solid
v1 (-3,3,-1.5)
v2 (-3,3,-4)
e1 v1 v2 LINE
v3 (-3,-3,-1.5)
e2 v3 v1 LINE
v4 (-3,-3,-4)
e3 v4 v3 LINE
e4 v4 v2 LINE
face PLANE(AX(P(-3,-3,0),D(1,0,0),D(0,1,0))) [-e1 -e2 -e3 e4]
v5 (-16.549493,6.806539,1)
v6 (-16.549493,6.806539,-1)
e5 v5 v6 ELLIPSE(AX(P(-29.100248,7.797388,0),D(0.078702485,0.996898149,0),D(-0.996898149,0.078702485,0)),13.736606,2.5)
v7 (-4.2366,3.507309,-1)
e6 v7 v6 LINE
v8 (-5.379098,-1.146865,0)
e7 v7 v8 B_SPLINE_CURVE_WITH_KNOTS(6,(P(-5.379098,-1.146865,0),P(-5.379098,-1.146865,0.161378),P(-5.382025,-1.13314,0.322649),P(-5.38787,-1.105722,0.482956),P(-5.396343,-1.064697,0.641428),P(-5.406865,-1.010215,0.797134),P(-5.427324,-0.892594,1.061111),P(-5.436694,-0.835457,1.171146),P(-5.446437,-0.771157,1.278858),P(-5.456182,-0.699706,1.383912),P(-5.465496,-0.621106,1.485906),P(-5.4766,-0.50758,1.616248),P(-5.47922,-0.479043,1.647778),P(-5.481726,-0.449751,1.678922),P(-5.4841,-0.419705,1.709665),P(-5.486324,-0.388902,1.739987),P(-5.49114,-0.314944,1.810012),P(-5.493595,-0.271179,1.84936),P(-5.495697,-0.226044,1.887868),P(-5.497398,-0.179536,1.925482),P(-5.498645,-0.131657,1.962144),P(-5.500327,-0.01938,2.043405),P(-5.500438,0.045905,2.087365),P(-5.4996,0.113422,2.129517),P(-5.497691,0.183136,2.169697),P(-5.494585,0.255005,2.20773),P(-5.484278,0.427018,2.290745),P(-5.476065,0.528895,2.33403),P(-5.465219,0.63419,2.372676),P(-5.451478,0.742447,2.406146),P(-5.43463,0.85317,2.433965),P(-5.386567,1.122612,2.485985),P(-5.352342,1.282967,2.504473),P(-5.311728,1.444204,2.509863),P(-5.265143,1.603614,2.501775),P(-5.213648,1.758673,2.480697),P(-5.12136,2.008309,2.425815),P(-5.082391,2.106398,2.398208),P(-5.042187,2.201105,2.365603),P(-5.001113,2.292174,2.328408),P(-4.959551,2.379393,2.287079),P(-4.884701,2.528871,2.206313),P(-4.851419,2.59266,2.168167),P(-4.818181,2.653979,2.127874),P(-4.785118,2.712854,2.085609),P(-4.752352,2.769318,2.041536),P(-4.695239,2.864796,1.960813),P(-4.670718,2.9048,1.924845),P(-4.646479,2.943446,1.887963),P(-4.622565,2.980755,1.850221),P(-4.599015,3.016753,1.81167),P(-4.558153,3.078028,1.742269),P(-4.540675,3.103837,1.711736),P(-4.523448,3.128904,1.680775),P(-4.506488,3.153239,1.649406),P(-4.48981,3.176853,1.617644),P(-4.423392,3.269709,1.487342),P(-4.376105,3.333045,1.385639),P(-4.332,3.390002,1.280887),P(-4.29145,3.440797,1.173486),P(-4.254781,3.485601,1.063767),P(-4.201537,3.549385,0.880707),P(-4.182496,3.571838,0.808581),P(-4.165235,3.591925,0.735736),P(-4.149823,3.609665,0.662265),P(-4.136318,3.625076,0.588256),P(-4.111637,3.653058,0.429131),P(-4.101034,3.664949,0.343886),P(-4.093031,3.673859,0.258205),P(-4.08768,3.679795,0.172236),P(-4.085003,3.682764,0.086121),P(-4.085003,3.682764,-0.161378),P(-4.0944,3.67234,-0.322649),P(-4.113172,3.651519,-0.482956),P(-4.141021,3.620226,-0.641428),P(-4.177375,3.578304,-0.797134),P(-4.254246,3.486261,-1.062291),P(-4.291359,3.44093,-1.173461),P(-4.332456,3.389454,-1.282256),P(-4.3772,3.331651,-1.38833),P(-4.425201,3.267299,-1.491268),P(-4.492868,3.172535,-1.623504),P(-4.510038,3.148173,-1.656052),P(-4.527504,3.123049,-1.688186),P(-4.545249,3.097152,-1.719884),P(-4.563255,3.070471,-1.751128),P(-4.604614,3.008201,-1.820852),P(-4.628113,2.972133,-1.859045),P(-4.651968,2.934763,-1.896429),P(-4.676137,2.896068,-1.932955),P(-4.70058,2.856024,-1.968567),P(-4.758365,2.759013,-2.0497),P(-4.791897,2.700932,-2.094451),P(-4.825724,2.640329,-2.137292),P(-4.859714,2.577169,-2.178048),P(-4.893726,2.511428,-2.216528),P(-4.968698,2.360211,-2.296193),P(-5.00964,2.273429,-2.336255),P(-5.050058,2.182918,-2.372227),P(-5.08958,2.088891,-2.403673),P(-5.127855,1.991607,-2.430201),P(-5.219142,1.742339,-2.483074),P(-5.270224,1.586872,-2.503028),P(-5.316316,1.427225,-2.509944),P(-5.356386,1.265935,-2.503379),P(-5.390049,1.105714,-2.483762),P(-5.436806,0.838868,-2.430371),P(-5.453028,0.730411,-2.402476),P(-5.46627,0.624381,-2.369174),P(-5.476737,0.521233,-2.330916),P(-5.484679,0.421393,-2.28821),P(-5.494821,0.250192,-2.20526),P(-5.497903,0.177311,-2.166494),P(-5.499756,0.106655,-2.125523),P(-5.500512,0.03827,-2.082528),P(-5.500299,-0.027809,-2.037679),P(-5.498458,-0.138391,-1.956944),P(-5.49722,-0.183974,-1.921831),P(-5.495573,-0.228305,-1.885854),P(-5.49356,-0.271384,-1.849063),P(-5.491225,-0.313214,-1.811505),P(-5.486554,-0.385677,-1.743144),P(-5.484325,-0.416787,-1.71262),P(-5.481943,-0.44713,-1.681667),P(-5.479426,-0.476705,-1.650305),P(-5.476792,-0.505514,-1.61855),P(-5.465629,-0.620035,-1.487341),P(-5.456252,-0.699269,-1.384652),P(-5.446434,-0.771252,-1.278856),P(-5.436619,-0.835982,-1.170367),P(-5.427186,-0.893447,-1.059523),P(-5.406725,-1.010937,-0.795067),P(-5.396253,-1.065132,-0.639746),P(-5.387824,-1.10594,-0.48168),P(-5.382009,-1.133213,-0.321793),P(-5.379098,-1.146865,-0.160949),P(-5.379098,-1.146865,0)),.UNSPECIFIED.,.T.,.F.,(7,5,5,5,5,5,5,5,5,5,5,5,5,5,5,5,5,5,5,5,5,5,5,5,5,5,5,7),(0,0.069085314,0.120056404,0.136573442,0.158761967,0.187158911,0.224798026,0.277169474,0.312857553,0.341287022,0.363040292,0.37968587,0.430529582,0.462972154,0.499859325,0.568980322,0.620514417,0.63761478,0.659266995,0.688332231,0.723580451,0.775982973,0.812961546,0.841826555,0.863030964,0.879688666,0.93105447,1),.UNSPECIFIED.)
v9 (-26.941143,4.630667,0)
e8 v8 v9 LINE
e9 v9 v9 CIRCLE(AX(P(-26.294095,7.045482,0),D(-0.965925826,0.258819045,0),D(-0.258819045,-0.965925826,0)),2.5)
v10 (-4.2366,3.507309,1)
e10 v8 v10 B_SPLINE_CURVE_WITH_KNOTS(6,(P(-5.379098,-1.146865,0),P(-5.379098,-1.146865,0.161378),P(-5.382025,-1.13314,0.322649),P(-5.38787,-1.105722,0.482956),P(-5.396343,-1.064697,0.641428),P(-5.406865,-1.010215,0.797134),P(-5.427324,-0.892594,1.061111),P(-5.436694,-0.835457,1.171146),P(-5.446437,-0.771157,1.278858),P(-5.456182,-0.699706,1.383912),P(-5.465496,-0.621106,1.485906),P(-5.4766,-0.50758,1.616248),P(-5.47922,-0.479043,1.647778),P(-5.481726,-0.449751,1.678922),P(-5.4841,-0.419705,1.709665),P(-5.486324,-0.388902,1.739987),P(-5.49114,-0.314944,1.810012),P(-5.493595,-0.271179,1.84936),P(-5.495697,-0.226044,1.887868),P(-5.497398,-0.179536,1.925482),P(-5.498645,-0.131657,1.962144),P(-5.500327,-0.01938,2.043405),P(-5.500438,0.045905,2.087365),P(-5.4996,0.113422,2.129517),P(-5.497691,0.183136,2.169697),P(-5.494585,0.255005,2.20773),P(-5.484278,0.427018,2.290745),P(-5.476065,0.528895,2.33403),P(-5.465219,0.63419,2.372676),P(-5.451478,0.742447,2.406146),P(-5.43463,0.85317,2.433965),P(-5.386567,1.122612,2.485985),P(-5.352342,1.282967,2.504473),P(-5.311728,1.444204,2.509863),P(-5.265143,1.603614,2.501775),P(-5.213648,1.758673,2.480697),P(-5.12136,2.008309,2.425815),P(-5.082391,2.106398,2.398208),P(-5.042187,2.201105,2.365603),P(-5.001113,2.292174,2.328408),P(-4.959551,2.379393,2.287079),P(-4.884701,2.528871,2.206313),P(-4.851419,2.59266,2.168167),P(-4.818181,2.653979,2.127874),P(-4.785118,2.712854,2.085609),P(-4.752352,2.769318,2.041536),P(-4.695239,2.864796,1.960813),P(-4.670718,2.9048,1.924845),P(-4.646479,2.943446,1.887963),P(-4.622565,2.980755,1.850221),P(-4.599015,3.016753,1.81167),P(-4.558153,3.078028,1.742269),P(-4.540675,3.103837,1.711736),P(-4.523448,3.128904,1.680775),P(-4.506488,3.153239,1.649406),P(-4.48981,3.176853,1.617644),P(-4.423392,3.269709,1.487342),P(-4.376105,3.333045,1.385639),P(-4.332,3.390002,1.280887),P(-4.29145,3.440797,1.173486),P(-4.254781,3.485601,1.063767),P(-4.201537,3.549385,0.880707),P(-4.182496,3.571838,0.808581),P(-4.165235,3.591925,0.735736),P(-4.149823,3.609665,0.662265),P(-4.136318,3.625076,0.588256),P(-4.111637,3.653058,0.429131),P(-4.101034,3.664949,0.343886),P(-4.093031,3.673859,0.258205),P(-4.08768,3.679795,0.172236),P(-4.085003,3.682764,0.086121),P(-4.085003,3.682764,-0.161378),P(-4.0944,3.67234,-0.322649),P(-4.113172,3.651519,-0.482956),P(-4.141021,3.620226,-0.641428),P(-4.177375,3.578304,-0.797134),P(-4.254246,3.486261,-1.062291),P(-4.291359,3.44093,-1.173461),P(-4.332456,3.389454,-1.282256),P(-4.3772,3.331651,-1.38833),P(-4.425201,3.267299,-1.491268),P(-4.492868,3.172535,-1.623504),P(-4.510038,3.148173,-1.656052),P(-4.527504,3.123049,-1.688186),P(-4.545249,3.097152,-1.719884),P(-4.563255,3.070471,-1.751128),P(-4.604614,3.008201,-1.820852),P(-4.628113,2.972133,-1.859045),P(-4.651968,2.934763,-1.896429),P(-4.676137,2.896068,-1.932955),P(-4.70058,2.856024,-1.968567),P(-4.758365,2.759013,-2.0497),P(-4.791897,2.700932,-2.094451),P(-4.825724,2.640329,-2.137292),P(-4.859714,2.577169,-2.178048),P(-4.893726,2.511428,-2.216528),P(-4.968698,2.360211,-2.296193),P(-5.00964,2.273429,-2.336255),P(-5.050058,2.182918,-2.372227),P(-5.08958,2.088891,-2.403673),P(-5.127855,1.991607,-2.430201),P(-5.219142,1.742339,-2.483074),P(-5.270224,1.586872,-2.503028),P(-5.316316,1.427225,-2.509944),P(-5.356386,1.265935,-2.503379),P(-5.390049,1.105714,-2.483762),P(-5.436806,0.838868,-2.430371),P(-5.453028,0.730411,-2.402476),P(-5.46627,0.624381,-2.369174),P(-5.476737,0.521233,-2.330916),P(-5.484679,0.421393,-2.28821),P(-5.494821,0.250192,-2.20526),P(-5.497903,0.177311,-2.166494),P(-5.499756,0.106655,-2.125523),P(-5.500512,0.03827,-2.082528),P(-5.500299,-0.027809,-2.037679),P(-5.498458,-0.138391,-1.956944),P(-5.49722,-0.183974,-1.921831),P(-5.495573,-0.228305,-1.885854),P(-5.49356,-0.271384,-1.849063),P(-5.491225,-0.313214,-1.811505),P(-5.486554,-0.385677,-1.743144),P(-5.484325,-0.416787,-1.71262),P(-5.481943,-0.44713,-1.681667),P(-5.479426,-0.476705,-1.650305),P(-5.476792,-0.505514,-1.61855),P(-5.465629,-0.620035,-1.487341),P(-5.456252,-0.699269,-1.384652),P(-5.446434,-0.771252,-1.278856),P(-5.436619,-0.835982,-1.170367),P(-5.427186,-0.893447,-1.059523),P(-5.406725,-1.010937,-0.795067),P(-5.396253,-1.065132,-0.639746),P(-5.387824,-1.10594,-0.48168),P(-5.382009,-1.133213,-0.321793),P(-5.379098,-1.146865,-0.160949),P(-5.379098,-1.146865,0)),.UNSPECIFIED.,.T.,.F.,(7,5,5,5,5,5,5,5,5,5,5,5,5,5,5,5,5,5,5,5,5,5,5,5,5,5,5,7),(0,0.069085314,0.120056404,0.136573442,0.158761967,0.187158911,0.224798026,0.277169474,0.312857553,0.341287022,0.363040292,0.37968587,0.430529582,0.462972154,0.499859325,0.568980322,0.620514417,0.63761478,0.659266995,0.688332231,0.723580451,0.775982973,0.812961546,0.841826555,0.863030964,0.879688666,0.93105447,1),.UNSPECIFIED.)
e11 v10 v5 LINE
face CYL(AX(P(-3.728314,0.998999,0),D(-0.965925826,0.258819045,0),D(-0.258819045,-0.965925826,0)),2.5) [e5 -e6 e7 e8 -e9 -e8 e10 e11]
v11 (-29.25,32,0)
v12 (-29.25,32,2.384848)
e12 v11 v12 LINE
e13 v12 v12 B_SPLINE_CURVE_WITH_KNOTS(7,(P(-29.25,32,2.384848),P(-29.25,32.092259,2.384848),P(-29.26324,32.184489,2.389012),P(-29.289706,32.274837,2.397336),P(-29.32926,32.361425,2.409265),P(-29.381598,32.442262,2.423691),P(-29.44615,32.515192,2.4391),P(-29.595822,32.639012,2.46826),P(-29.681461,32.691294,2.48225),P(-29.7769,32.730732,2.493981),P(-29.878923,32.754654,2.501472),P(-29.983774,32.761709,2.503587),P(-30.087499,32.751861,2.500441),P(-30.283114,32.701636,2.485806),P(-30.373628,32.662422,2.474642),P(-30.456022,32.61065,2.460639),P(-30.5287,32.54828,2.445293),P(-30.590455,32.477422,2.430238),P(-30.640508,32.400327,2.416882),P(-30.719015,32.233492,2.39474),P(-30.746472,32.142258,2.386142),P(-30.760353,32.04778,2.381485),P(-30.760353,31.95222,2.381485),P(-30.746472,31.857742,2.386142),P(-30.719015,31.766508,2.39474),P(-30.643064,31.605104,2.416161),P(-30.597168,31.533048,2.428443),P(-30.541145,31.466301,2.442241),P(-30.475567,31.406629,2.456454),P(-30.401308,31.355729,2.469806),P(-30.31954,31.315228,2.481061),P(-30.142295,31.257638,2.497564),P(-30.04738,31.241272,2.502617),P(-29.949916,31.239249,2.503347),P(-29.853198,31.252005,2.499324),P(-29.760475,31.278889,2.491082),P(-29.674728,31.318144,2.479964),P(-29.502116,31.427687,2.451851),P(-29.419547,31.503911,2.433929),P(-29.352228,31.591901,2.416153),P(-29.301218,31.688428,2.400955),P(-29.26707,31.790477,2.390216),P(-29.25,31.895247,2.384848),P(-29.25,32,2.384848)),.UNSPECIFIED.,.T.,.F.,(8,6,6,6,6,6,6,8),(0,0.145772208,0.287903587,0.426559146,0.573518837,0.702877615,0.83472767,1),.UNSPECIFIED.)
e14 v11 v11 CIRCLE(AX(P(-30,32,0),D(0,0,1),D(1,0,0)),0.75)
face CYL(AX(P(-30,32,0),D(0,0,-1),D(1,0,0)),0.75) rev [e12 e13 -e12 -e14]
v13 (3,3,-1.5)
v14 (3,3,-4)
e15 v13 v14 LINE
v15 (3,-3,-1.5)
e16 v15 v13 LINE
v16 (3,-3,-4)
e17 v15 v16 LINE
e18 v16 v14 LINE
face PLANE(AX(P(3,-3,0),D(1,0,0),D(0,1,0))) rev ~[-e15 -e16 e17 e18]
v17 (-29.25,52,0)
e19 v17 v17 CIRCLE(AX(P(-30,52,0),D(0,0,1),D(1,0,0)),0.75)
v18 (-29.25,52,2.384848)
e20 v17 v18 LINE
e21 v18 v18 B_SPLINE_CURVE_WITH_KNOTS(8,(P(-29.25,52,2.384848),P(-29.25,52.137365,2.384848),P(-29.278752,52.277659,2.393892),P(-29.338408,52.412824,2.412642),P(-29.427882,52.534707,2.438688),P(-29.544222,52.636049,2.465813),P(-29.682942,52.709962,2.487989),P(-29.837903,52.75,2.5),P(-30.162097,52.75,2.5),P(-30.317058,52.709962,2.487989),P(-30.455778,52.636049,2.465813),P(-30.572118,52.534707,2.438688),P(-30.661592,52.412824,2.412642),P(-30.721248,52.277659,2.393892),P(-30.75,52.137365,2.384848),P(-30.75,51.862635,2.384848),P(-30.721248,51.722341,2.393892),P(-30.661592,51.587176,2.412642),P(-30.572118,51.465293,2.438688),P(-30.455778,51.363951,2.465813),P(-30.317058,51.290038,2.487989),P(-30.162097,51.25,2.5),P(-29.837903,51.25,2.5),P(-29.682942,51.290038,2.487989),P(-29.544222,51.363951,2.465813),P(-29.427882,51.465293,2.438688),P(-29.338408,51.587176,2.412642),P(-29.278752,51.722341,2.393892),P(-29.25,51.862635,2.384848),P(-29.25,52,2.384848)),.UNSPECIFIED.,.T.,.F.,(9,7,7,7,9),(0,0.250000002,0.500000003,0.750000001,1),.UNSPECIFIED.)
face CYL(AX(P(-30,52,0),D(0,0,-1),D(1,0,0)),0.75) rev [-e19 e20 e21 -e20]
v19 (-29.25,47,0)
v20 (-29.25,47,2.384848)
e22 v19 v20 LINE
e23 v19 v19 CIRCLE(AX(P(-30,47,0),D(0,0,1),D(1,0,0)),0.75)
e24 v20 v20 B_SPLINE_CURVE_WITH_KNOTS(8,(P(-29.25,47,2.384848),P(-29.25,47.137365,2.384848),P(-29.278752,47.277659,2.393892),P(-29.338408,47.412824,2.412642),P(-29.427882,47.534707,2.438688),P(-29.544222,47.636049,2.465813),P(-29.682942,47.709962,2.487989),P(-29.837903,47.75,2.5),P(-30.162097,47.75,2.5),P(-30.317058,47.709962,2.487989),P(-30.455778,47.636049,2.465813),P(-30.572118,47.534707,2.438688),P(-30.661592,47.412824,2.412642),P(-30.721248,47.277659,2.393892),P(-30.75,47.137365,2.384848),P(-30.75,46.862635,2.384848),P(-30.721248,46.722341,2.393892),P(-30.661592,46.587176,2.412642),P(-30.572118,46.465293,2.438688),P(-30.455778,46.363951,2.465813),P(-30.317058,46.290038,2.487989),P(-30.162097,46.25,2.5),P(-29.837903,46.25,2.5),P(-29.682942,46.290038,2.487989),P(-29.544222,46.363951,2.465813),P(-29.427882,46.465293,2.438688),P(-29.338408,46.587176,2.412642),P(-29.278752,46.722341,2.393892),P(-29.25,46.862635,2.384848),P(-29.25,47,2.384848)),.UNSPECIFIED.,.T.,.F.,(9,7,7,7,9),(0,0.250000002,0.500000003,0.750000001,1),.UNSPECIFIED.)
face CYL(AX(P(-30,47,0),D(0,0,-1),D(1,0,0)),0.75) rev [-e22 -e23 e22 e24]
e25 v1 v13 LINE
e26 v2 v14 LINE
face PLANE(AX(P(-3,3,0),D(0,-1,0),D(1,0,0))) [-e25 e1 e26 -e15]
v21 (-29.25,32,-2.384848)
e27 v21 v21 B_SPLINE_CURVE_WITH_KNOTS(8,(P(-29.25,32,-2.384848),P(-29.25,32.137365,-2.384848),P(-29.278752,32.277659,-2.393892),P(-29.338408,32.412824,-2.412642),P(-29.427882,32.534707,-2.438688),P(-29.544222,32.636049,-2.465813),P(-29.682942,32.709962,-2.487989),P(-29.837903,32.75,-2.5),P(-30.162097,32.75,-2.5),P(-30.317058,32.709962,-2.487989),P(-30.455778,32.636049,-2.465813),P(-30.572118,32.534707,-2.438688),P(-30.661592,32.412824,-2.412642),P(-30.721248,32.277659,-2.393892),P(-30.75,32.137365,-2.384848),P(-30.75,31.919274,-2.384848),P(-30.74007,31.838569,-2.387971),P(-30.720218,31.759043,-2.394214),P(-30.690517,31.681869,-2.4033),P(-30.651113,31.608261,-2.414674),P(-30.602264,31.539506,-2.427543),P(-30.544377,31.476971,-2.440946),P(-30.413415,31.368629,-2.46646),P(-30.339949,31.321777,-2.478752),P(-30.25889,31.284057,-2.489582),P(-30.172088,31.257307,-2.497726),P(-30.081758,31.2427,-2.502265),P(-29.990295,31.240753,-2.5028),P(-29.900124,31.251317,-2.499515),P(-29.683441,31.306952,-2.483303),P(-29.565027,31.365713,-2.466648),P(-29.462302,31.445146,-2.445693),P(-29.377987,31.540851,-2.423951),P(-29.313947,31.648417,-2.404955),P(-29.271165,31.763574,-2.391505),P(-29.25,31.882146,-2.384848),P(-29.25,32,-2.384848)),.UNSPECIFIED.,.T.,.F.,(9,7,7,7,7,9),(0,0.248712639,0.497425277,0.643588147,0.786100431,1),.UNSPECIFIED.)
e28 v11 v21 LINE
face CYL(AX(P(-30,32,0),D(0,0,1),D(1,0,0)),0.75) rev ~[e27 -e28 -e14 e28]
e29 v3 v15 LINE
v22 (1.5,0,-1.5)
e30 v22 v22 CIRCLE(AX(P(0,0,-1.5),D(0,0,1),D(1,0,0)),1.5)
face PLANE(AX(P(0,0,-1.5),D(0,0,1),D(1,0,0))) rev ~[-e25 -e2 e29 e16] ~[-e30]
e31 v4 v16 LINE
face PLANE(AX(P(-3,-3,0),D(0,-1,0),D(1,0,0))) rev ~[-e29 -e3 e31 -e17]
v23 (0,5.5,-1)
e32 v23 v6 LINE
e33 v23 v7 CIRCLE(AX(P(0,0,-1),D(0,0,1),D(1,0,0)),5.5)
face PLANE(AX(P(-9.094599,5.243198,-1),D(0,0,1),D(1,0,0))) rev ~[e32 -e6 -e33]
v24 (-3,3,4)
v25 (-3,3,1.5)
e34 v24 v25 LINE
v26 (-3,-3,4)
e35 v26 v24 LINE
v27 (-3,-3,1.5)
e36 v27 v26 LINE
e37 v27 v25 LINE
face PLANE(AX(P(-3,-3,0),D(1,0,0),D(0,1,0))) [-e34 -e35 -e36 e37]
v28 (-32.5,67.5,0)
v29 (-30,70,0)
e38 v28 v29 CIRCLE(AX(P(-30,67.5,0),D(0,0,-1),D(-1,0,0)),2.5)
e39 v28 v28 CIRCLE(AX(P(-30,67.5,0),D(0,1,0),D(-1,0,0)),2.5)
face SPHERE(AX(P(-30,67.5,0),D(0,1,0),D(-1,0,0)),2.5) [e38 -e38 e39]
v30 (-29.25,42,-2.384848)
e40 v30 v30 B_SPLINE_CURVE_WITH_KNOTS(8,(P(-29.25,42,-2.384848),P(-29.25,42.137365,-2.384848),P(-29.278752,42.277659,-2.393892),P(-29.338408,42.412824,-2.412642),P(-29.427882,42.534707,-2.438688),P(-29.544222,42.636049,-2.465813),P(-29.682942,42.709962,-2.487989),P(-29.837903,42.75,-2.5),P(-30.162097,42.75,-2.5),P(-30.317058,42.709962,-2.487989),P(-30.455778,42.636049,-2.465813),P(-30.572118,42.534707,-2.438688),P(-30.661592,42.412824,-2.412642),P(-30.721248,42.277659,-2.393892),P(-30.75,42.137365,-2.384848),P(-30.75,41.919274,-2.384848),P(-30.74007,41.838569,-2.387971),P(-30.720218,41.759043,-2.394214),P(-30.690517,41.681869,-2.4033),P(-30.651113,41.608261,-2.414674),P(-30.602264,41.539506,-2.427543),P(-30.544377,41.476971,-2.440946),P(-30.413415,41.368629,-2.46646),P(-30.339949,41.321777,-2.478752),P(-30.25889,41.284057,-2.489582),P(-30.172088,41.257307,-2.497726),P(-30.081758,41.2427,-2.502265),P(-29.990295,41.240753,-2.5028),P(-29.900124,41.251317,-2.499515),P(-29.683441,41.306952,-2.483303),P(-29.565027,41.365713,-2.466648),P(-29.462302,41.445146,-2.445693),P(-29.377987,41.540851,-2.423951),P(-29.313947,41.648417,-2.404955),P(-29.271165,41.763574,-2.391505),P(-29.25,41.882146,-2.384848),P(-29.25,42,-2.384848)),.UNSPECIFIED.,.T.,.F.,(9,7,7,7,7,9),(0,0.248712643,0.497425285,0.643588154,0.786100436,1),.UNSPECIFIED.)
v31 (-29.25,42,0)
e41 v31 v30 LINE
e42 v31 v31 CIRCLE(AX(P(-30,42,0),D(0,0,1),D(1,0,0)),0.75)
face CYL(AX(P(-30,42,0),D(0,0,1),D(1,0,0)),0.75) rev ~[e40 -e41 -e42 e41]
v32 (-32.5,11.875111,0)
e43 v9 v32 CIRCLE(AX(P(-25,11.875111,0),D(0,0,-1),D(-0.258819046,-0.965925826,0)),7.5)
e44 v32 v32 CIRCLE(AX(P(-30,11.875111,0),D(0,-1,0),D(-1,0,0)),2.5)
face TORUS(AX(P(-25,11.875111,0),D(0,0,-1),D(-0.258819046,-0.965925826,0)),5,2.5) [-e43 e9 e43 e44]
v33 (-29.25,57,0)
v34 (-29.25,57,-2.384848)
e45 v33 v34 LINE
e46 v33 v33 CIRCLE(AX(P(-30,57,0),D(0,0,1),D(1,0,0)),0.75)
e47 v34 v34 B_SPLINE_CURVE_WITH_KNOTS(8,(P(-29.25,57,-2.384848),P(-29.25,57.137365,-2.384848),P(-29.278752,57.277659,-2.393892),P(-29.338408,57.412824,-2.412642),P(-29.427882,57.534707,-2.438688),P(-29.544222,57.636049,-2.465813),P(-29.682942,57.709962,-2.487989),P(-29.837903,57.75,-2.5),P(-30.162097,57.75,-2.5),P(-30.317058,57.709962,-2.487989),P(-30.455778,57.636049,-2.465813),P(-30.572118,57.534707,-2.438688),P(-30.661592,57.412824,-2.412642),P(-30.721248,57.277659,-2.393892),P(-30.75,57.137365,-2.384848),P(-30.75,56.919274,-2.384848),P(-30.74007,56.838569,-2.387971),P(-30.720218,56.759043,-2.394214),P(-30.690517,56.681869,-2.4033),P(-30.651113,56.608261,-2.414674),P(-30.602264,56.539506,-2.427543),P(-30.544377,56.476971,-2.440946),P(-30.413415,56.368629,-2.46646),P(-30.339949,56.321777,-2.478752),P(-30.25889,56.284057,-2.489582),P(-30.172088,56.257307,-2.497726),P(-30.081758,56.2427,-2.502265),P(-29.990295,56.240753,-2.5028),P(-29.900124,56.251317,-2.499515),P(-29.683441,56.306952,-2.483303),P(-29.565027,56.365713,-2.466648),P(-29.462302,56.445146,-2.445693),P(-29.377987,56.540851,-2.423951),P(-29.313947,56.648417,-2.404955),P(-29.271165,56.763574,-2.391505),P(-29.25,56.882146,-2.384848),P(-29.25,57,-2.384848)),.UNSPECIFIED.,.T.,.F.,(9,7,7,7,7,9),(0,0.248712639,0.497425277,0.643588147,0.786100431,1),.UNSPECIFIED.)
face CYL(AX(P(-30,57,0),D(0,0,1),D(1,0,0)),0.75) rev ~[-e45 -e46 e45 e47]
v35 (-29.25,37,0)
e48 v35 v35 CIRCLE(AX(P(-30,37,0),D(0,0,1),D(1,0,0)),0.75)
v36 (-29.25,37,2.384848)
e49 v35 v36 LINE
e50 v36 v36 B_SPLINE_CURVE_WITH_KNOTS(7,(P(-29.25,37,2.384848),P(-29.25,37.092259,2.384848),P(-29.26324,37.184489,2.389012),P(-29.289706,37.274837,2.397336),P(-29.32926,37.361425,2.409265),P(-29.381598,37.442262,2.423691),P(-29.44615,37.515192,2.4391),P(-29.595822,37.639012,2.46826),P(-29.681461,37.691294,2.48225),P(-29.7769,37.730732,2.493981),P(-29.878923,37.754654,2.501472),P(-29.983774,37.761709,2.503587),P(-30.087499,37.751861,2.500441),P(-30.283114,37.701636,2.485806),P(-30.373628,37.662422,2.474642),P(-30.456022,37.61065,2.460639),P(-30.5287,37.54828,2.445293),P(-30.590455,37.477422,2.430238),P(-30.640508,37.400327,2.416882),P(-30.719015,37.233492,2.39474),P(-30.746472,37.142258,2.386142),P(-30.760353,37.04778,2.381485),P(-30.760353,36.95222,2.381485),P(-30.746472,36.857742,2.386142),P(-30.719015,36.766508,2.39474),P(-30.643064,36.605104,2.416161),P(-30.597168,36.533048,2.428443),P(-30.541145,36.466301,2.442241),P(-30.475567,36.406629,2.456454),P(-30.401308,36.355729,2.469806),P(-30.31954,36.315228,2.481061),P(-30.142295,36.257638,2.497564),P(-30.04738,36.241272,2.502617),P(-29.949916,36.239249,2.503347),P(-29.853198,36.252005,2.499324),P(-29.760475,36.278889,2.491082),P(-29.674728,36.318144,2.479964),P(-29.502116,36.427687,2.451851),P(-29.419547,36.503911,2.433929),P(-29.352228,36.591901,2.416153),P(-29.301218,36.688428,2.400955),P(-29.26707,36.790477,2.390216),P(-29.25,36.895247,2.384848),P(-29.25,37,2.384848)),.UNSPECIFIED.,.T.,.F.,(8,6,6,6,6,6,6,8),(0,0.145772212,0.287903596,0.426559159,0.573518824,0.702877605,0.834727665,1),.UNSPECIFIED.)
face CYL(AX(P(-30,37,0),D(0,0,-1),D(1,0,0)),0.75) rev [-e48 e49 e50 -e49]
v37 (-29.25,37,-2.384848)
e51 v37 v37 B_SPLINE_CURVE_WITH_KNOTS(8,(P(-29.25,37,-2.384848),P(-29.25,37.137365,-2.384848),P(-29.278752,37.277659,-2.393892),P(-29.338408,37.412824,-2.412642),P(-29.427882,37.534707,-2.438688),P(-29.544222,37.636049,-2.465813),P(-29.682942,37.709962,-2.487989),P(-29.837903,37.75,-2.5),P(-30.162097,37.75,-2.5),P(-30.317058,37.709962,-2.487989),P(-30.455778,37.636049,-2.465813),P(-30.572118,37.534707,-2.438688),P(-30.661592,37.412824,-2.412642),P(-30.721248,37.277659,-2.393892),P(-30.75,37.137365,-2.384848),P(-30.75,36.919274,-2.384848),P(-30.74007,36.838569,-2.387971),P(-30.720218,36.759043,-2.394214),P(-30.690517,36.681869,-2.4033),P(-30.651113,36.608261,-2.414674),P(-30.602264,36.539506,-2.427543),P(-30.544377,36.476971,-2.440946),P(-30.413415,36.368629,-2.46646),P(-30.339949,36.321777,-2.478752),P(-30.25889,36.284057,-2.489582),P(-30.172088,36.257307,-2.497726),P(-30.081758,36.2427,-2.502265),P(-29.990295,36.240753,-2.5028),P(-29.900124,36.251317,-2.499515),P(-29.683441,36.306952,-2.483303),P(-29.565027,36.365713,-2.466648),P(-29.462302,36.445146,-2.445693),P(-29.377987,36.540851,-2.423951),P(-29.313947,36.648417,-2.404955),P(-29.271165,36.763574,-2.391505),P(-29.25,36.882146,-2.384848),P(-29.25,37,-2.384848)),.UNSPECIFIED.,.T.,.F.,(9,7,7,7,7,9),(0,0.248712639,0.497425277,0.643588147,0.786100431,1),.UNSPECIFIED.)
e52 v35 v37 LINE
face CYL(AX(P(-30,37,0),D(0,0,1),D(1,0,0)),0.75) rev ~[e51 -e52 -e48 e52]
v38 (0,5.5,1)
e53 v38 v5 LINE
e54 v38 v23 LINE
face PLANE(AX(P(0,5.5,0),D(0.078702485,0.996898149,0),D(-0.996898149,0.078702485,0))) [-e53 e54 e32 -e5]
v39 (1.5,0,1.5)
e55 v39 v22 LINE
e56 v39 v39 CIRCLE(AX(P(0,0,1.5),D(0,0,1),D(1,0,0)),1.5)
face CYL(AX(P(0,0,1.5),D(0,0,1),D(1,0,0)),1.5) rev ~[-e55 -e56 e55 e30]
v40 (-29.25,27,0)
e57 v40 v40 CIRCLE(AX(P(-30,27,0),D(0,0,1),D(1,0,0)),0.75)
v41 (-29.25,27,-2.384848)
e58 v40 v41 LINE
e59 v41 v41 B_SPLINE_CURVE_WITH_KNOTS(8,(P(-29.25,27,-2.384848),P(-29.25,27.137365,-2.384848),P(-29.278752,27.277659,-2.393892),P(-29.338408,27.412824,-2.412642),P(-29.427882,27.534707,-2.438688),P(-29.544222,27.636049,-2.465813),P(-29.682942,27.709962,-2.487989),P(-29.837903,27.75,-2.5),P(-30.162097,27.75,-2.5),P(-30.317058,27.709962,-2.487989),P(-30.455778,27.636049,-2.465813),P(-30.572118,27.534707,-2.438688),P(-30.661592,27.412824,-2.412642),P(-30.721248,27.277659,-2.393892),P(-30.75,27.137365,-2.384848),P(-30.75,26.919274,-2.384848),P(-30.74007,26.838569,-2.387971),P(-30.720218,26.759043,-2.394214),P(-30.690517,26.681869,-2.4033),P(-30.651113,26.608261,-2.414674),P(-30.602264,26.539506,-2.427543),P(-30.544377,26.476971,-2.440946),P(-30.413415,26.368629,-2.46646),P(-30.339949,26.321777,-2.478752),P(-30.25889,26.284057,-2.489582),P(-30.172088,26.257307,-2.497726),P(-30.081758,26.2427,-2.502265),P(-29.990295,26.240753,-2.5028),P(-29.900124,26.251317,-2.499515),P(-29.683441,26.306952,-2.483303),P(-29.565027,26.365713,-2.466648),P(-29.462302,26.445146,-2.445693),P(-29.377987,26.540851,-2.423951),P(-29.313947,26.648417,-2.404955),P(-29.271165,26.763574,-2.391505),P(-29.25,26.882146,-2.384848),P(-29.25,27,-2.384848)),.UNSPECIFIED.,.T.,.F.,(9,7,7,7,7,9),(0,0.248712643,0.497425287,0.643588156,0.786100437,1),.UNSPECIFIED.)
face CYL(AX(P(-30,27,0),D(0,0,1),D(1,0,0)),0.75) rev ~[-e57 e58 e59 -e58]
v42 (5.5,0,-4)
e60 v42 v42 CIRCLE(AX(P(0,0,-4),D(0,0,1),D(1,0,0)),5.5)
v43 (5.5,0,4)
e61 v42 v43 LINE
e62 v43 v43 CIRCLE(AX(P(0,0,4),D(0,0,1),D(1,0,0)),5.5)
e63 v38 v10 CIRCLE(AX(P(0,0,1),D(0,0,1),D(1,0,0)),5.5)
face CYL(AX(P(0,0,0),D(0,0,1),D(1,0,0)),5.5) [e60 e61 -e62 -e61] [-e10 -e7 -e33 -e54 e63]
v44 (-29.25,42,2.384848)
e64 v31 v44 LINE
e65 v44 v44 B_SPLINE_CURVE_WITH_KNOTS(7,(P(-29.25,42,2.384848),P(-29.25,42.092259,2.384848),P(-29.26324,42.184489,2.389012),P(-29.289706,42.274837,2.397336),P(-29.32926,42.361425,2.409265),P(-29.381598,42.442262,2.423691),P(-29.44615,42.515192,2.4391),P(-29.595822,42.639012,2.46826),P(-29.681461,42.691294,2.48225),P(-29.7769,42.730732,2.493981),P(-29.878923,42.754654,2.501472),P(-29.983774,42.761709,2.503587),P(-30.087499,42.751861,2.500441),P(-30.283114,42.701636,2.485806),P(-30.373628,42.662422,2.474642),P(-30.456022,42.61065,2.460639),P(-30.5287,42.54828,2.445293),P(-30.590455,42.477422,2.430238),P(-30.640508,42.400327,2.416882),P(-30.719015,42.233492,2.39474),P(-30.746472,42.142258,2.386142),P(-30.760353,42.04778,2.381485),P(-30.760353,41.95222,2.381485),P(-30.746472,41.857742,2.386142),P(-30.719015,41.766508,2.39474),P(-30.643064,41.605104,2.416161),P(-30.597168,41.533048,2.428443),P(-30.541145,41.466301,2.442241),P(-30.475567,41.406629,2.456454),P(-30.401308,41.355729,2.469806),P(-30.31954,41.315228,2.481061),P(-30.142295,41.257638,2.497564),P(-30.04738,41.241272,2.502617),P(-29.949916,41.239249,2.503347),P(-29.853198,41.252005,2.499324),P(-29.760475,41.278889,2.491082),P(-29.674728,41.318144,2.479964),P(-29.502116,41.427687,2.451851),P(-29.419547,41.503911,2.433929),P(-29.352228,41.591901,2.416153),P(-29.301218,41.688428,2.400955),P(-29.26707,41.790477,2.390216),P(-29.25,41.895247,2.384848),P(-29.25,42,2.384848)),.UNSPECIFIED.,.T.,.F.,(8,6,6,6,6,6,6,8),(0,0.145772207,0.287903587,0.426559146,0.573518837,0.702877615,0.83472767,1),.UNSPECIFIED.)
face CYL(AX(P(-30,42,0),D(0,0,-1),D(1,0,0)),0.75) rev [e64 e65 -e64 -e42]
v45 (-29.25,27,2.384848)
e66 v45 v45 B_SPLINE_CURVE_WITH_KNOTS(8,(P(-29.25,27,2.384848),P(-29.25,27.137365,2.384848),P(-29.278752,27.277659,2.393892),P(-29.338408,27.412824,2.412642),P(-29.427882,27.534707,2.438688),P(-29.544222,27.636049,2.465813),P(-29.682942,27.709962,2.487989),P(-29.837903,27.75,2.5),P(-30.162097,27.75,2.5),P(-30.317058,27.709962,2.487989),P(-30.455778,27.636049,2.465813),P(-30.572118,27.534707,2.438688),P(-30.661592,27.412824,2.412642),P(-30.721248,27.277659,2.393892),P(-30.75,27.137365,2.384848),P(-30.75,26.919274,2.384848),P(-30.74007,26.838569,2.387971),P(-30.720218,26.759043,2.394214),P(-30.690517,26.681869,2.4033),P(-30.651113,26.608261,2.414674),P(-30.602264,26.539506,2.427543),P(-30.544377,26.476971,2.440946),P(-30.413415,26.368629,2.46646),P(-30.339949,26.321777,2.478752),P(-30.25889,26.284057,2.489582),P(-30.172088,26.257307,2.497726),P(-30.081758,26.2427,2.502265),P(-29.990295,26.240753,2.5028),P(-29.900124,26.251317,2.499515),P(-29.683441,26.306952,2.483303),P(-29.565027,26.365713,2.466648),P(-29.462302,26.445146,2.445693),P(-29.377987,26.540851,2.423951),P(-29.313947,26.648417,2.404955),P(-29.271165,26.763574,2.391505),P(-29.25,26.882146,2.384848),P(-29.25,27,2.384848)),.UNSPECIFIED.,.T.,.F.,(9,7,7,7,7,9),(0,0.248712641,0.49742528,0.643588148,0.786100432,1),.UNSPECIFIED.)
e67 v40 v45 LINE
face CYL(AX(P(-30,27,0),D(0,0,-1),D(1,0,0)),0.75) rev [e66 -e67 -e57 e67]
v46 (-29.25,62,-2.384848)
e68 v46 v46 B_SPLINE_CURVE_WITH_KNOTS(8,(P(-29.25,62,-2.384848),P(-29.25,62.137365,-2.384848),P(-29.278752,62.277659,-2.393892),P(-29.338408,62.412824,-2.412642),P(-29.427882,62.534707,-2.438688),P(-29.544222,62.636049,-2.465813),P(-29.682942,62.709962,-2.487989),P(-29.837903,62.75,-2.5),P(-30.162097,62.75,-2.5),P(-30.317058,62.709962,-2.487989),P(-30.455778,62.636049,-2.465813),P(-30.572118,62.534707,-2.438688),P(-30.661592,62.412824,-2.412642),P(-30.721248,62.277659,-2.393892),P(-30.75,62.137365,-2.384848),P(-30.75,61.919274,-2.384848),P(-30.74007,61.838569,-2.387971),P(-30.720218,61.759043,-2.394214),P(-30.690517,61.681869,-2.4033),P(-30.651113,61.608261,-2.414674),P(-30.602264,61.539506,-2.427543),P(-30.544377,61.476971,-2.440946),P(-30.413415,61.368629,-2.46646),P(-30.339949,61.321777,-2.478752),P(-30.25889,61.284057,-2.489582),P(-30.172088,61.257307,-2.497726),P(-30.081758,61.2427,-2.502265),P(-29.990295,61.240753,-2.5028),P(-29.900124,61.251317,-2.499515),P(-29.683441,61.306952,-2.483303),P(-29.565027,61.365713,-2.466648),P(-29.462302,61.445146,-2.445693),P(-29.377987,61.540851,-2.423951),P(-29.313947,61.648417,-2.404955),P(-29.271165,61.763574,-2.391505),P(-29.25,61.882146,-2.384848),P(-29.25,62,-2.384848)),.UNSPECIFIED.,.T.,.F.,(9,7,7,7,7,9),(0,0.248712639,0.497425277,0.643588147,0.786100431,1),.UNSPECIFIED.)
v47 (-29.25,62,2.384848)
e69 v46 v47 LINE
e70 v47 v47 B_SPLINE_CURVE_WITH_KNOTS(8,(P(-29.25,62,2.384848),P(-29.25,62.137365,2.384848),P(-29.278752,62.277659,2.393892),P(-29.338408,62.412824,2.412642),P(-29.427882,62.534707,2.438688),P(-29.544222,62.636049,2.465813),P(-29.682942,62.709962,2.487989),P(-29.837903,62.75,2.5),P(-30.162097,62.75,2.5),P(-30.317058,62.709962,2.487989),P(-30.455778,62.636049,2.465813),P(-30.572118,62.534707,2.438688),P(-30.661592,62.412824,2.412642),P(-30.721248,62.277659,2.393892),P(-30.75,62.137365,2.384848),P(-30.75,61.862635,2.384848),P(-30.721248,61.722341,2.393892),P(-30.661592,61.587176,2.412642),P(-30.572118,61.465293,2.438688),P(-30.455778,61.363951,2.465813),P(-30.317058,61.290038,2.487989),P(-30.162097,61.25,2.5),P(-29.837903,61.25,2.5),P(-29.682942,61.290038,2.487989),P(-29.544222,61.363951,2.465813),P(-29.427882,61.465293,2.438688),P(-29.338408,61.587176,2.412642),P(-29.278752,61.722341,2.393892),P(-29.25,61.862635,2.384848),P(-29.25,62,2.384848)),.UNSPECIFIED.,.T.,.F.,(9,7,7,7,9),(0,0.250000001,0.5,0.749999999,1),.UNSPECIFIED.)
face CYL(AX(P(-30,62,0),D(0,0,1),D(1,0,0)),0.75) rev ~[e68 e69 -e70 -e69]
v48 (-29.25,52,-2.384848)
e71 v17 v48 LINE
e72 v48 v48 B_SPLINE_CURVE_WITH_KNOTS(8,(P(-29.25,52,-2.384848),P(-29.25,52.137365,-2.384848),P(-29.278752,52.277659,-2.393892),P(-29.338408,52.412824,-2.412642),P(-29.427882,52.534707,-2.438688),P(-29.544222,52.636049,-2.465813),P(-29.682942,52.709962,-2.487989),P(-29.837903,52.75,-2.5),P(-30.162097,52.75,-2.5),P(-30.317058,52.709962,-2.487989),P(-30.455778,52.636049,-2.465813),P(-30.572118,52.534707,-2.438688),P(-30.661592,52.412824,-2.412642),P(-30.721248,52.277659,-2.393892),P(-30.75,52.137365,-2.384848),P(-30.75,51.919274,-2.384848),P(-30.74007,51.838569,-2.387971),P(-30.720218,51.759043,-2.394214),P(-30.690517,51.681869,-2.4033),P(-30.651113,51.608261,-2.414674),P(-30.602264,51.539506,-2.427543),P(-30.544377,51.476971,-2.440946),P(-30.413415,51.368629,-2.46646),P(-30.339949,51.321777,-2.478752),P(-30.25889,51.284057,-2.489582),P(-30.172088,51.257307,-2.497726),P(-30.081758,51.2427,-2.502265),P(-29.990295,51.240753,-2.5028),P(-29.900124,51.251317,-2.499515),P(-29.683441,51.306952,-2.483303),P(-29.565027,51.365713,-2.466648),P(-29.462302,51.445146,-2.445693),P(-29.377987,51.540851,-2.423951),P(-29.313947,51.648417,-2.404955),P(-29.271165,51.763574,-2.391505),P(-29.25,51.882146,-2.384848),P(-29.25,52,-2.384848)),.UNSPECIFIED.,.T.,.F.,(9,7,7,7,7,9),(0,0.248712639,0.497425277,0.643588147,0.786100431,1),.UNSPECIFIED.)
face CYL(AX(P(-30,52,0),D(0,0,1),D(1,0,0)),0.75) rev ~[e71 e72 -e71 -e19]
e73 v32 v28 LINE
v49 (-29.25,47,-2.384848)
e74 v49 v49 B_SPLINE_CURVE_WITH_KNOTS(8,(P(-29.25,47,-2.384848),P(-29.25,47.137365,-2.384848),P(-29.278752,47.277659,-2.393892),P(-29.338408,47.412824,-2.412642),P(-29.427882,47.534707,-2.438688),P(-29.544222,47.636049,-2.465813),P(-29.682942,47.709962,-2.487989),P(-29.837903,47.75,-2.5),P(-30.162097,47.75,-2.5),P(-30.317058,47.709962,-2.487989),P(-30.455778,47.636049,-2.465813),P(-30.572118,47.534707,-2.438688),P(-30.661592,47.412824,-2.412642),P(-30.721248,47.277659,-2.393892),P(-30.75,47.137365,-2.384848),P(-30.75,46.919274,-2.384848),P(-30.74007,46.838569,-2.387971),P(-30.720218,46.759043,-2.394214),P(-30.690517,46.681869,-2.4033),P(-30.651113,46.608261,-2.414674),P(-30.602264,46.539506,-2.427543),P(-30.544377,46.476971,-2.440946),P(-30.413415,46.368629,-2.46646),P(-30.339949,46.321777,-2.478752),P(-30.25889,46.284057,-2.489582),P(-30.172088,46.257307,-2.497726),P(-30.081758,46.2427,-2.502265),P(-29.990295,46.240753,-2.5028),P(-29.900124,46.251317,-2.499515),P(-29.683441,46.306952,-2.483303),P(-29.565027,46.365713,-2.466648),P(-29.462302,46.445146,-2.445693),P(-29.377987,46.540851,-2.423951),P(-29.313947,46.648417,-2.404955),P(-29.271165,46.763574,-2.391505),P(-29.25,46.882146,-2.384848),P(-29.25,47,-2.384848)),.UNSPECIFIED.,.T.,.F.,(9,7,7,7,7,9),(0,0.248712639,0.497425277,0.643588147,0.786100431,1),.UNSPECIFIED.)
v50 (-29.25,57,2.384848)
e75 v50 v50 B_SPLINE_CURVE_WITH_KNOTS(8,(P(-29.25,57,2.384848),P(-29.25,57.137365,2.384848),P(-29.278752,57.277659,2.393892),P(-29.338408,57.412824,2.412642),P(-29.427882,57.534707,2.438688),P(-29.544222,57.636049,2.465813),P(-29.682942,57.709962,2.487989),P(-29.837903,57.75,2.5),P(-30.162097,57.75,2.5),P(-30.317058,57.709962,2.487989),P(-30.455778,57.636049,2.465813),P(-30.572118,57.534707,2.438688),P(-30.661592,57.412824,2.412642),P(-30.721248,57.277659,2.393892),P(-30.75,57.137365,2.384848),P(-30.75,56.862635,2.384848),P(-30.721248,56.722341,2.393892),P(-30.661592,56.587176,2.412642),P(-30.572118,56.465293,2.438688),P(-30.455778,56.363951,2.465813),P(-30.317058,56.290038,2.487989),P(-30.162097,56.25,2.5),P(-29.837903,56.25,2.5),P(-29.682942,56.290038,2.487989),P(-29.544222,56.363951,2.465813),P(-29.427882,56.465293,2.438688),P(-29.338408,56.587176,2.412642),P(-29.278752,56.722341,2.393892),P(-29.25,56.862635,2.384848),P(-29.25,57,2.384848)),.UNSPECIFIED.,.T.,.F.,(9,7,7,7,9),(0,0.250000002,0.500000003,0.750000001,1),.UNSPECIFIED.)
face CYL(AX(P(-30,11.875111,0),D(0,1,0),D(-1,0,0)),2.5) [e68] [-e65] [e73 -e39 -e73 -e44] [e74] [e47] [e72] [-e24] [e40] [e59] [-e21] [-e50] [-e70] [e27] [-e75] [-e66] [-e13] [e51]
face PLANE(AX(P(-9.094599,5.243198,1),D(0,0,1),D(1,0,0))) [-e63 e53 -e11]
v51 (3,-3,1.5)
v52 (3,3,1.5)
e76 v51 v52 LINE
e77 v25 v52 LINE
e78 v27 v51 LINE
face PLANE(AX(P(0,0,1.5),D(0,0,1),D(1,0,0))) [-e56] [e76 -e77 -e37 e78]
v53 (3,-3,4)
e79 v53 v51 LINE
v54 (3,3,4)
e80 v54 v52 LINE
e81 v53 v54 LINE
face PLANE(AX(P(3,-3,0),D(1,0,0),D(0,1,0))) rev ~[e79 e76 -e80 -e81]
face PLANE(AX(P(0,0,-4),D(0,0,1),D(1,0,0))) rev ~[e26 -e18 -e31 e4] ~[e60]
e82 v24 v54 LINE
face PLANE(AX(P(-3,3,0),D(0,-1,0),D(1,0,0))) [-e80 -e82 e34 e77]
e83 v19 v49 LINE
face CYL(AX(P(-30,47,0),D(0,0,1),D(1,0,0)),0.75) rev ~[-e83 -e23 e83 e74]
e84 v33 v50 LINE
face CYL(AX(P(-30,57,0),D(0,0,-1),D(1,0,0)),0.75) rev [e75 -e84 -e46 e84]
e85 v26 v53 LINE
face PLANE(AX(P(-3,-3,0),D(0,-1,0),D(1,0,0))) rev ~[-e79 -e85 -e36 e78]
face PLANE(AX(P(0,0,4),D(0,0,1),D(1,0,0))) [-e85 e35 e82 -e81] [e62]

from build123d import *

# Parameters (mm, degrees)
ESQUISSE1_R             = 5.5
ESQUISSE1_W             = 6
ESQUISSE1_H             = 6
BASE_EXTRUSION_DEPTH    = 4
ESQUISSE2_W             = 6
ESQUISSE2_H             = 6
BOSS_EXTRU_1_DEPTH      = 1.5
ESQUISSE3_R             = 1.5
ENL_V_MAT_EXTRU_1_DEPTH = 6.5
ESQUISSE6_R             = 2.5
CONG_1_R                = 2.5
ESQUISSE7_R             = 0.75
ENL_V_MAT_EXTRU_2_DEPTH = 11.5
BOSS_EXTRU_2_DEPTH      = 1


with BuildPart() as part:
    # Esquisse1 → Base-Extrusion (new body, symmetric)
    with BuildSketch(Plane.XY):
        Circle(ESQUISSE1_R)
        Rectangle(ESQUISSE1_W, ESQUISSE1_H, mode=Mode.SUBTRACT)
    extrude(amount=BASE_EXTRUSION_DEPTH, both=True)

    # Esquisse2 → Boss.-Extru.1 (add, symmetric)
    with BuildSketch(Plane.XY):
        Rectangle(ESQUISSE2_W, ESQUISSE2_H)
    extrude(amount=BOSS_EXTRU_1_DEPTH, both=True)

    # Esquisse3 → Enl_v. mat.-Extru.1 (cut, through all)
    with BuildSketch(Plane.XY.offset(1.5)):
        Circle(ESQUISSE3_R)
    extrude(amount=-ENL_V_MAT_EXTRU_1_DEPTH, mode=Mode.SUBTRACT)

    # Boss.-Balayage1: sweep along a curve in space
    with BuildLine() as boss_balayage1_path:
        Line((-3.728314003, 0.998998726, 0), (-26.294095226, 7.045481581, 0))
        ThreePointArc((-26.294095226, 7.045481581, 0), (-28.966766701, 8.831303568, 0), (-30, 11.875110713, 0))
        Line((-30, 11.875110713, 0), (-30, 70, 0))
    # Esquisse6 → Boss.-Balayage1 (sweep)
    with BuildSketch(Plane(origin=(0, 70, 0), x_dir=(-1, 0, 0), z_dir=(0, 1, 0))):
        with Locations((30, 0)):
            Circle(ESQUISSE6_R)
    sweep(path=boss_balayage1_path.line)

    # Cong_1
    cong_1_edges = [part.edges().sort_by_distance(p)[0] for p in [
        (-27.5, 70, 0),
    ]]
    fillet(cong_1_edges, radius=CONG_1_R)

    # Esquisse7 → Enl_v. mat.-Extru.2 (cut, symmetric)
    with BuildSketch(Plane.XY):
        with Locations((-30, 27)):
            Circle(ESQUISSE7_R)
        with Locations((-30, 32)):
            Circle(ESQUISSE7_R)
        with Locations((-30, 37)):
            Circle(ESQUISSE7_R)
        with Locations((-30, 42)):
            Circle(ESQUISSE7_R)
        with Locations((-30, 47)):
            Circle(ESQUISSE7_R)
        with Locations((-30, 52)):
            Circle(ESQUISSE7_R)
        with Locations((-30, 57)):
            Circle(ESQUISSE7_R)
        with Locations((-30, 62)):
            Circle(ESQUISSE7_R)
    extrude(amount=ENL_V_MAT_EXTRU_2_DEPTH, both=True, mode=Mode.SUBTRACT)

    # Esquisse8 → Boss.-Extru.2 (add, symmetric)
    with BuildSketch(Plane.XY):
        Polygon((0, 5.5), (-19, 7), (-2, 2), align=None)
    extrude(amount=BOSS_EXTRU_2_DEPTH, both=True)


solid = part.part
